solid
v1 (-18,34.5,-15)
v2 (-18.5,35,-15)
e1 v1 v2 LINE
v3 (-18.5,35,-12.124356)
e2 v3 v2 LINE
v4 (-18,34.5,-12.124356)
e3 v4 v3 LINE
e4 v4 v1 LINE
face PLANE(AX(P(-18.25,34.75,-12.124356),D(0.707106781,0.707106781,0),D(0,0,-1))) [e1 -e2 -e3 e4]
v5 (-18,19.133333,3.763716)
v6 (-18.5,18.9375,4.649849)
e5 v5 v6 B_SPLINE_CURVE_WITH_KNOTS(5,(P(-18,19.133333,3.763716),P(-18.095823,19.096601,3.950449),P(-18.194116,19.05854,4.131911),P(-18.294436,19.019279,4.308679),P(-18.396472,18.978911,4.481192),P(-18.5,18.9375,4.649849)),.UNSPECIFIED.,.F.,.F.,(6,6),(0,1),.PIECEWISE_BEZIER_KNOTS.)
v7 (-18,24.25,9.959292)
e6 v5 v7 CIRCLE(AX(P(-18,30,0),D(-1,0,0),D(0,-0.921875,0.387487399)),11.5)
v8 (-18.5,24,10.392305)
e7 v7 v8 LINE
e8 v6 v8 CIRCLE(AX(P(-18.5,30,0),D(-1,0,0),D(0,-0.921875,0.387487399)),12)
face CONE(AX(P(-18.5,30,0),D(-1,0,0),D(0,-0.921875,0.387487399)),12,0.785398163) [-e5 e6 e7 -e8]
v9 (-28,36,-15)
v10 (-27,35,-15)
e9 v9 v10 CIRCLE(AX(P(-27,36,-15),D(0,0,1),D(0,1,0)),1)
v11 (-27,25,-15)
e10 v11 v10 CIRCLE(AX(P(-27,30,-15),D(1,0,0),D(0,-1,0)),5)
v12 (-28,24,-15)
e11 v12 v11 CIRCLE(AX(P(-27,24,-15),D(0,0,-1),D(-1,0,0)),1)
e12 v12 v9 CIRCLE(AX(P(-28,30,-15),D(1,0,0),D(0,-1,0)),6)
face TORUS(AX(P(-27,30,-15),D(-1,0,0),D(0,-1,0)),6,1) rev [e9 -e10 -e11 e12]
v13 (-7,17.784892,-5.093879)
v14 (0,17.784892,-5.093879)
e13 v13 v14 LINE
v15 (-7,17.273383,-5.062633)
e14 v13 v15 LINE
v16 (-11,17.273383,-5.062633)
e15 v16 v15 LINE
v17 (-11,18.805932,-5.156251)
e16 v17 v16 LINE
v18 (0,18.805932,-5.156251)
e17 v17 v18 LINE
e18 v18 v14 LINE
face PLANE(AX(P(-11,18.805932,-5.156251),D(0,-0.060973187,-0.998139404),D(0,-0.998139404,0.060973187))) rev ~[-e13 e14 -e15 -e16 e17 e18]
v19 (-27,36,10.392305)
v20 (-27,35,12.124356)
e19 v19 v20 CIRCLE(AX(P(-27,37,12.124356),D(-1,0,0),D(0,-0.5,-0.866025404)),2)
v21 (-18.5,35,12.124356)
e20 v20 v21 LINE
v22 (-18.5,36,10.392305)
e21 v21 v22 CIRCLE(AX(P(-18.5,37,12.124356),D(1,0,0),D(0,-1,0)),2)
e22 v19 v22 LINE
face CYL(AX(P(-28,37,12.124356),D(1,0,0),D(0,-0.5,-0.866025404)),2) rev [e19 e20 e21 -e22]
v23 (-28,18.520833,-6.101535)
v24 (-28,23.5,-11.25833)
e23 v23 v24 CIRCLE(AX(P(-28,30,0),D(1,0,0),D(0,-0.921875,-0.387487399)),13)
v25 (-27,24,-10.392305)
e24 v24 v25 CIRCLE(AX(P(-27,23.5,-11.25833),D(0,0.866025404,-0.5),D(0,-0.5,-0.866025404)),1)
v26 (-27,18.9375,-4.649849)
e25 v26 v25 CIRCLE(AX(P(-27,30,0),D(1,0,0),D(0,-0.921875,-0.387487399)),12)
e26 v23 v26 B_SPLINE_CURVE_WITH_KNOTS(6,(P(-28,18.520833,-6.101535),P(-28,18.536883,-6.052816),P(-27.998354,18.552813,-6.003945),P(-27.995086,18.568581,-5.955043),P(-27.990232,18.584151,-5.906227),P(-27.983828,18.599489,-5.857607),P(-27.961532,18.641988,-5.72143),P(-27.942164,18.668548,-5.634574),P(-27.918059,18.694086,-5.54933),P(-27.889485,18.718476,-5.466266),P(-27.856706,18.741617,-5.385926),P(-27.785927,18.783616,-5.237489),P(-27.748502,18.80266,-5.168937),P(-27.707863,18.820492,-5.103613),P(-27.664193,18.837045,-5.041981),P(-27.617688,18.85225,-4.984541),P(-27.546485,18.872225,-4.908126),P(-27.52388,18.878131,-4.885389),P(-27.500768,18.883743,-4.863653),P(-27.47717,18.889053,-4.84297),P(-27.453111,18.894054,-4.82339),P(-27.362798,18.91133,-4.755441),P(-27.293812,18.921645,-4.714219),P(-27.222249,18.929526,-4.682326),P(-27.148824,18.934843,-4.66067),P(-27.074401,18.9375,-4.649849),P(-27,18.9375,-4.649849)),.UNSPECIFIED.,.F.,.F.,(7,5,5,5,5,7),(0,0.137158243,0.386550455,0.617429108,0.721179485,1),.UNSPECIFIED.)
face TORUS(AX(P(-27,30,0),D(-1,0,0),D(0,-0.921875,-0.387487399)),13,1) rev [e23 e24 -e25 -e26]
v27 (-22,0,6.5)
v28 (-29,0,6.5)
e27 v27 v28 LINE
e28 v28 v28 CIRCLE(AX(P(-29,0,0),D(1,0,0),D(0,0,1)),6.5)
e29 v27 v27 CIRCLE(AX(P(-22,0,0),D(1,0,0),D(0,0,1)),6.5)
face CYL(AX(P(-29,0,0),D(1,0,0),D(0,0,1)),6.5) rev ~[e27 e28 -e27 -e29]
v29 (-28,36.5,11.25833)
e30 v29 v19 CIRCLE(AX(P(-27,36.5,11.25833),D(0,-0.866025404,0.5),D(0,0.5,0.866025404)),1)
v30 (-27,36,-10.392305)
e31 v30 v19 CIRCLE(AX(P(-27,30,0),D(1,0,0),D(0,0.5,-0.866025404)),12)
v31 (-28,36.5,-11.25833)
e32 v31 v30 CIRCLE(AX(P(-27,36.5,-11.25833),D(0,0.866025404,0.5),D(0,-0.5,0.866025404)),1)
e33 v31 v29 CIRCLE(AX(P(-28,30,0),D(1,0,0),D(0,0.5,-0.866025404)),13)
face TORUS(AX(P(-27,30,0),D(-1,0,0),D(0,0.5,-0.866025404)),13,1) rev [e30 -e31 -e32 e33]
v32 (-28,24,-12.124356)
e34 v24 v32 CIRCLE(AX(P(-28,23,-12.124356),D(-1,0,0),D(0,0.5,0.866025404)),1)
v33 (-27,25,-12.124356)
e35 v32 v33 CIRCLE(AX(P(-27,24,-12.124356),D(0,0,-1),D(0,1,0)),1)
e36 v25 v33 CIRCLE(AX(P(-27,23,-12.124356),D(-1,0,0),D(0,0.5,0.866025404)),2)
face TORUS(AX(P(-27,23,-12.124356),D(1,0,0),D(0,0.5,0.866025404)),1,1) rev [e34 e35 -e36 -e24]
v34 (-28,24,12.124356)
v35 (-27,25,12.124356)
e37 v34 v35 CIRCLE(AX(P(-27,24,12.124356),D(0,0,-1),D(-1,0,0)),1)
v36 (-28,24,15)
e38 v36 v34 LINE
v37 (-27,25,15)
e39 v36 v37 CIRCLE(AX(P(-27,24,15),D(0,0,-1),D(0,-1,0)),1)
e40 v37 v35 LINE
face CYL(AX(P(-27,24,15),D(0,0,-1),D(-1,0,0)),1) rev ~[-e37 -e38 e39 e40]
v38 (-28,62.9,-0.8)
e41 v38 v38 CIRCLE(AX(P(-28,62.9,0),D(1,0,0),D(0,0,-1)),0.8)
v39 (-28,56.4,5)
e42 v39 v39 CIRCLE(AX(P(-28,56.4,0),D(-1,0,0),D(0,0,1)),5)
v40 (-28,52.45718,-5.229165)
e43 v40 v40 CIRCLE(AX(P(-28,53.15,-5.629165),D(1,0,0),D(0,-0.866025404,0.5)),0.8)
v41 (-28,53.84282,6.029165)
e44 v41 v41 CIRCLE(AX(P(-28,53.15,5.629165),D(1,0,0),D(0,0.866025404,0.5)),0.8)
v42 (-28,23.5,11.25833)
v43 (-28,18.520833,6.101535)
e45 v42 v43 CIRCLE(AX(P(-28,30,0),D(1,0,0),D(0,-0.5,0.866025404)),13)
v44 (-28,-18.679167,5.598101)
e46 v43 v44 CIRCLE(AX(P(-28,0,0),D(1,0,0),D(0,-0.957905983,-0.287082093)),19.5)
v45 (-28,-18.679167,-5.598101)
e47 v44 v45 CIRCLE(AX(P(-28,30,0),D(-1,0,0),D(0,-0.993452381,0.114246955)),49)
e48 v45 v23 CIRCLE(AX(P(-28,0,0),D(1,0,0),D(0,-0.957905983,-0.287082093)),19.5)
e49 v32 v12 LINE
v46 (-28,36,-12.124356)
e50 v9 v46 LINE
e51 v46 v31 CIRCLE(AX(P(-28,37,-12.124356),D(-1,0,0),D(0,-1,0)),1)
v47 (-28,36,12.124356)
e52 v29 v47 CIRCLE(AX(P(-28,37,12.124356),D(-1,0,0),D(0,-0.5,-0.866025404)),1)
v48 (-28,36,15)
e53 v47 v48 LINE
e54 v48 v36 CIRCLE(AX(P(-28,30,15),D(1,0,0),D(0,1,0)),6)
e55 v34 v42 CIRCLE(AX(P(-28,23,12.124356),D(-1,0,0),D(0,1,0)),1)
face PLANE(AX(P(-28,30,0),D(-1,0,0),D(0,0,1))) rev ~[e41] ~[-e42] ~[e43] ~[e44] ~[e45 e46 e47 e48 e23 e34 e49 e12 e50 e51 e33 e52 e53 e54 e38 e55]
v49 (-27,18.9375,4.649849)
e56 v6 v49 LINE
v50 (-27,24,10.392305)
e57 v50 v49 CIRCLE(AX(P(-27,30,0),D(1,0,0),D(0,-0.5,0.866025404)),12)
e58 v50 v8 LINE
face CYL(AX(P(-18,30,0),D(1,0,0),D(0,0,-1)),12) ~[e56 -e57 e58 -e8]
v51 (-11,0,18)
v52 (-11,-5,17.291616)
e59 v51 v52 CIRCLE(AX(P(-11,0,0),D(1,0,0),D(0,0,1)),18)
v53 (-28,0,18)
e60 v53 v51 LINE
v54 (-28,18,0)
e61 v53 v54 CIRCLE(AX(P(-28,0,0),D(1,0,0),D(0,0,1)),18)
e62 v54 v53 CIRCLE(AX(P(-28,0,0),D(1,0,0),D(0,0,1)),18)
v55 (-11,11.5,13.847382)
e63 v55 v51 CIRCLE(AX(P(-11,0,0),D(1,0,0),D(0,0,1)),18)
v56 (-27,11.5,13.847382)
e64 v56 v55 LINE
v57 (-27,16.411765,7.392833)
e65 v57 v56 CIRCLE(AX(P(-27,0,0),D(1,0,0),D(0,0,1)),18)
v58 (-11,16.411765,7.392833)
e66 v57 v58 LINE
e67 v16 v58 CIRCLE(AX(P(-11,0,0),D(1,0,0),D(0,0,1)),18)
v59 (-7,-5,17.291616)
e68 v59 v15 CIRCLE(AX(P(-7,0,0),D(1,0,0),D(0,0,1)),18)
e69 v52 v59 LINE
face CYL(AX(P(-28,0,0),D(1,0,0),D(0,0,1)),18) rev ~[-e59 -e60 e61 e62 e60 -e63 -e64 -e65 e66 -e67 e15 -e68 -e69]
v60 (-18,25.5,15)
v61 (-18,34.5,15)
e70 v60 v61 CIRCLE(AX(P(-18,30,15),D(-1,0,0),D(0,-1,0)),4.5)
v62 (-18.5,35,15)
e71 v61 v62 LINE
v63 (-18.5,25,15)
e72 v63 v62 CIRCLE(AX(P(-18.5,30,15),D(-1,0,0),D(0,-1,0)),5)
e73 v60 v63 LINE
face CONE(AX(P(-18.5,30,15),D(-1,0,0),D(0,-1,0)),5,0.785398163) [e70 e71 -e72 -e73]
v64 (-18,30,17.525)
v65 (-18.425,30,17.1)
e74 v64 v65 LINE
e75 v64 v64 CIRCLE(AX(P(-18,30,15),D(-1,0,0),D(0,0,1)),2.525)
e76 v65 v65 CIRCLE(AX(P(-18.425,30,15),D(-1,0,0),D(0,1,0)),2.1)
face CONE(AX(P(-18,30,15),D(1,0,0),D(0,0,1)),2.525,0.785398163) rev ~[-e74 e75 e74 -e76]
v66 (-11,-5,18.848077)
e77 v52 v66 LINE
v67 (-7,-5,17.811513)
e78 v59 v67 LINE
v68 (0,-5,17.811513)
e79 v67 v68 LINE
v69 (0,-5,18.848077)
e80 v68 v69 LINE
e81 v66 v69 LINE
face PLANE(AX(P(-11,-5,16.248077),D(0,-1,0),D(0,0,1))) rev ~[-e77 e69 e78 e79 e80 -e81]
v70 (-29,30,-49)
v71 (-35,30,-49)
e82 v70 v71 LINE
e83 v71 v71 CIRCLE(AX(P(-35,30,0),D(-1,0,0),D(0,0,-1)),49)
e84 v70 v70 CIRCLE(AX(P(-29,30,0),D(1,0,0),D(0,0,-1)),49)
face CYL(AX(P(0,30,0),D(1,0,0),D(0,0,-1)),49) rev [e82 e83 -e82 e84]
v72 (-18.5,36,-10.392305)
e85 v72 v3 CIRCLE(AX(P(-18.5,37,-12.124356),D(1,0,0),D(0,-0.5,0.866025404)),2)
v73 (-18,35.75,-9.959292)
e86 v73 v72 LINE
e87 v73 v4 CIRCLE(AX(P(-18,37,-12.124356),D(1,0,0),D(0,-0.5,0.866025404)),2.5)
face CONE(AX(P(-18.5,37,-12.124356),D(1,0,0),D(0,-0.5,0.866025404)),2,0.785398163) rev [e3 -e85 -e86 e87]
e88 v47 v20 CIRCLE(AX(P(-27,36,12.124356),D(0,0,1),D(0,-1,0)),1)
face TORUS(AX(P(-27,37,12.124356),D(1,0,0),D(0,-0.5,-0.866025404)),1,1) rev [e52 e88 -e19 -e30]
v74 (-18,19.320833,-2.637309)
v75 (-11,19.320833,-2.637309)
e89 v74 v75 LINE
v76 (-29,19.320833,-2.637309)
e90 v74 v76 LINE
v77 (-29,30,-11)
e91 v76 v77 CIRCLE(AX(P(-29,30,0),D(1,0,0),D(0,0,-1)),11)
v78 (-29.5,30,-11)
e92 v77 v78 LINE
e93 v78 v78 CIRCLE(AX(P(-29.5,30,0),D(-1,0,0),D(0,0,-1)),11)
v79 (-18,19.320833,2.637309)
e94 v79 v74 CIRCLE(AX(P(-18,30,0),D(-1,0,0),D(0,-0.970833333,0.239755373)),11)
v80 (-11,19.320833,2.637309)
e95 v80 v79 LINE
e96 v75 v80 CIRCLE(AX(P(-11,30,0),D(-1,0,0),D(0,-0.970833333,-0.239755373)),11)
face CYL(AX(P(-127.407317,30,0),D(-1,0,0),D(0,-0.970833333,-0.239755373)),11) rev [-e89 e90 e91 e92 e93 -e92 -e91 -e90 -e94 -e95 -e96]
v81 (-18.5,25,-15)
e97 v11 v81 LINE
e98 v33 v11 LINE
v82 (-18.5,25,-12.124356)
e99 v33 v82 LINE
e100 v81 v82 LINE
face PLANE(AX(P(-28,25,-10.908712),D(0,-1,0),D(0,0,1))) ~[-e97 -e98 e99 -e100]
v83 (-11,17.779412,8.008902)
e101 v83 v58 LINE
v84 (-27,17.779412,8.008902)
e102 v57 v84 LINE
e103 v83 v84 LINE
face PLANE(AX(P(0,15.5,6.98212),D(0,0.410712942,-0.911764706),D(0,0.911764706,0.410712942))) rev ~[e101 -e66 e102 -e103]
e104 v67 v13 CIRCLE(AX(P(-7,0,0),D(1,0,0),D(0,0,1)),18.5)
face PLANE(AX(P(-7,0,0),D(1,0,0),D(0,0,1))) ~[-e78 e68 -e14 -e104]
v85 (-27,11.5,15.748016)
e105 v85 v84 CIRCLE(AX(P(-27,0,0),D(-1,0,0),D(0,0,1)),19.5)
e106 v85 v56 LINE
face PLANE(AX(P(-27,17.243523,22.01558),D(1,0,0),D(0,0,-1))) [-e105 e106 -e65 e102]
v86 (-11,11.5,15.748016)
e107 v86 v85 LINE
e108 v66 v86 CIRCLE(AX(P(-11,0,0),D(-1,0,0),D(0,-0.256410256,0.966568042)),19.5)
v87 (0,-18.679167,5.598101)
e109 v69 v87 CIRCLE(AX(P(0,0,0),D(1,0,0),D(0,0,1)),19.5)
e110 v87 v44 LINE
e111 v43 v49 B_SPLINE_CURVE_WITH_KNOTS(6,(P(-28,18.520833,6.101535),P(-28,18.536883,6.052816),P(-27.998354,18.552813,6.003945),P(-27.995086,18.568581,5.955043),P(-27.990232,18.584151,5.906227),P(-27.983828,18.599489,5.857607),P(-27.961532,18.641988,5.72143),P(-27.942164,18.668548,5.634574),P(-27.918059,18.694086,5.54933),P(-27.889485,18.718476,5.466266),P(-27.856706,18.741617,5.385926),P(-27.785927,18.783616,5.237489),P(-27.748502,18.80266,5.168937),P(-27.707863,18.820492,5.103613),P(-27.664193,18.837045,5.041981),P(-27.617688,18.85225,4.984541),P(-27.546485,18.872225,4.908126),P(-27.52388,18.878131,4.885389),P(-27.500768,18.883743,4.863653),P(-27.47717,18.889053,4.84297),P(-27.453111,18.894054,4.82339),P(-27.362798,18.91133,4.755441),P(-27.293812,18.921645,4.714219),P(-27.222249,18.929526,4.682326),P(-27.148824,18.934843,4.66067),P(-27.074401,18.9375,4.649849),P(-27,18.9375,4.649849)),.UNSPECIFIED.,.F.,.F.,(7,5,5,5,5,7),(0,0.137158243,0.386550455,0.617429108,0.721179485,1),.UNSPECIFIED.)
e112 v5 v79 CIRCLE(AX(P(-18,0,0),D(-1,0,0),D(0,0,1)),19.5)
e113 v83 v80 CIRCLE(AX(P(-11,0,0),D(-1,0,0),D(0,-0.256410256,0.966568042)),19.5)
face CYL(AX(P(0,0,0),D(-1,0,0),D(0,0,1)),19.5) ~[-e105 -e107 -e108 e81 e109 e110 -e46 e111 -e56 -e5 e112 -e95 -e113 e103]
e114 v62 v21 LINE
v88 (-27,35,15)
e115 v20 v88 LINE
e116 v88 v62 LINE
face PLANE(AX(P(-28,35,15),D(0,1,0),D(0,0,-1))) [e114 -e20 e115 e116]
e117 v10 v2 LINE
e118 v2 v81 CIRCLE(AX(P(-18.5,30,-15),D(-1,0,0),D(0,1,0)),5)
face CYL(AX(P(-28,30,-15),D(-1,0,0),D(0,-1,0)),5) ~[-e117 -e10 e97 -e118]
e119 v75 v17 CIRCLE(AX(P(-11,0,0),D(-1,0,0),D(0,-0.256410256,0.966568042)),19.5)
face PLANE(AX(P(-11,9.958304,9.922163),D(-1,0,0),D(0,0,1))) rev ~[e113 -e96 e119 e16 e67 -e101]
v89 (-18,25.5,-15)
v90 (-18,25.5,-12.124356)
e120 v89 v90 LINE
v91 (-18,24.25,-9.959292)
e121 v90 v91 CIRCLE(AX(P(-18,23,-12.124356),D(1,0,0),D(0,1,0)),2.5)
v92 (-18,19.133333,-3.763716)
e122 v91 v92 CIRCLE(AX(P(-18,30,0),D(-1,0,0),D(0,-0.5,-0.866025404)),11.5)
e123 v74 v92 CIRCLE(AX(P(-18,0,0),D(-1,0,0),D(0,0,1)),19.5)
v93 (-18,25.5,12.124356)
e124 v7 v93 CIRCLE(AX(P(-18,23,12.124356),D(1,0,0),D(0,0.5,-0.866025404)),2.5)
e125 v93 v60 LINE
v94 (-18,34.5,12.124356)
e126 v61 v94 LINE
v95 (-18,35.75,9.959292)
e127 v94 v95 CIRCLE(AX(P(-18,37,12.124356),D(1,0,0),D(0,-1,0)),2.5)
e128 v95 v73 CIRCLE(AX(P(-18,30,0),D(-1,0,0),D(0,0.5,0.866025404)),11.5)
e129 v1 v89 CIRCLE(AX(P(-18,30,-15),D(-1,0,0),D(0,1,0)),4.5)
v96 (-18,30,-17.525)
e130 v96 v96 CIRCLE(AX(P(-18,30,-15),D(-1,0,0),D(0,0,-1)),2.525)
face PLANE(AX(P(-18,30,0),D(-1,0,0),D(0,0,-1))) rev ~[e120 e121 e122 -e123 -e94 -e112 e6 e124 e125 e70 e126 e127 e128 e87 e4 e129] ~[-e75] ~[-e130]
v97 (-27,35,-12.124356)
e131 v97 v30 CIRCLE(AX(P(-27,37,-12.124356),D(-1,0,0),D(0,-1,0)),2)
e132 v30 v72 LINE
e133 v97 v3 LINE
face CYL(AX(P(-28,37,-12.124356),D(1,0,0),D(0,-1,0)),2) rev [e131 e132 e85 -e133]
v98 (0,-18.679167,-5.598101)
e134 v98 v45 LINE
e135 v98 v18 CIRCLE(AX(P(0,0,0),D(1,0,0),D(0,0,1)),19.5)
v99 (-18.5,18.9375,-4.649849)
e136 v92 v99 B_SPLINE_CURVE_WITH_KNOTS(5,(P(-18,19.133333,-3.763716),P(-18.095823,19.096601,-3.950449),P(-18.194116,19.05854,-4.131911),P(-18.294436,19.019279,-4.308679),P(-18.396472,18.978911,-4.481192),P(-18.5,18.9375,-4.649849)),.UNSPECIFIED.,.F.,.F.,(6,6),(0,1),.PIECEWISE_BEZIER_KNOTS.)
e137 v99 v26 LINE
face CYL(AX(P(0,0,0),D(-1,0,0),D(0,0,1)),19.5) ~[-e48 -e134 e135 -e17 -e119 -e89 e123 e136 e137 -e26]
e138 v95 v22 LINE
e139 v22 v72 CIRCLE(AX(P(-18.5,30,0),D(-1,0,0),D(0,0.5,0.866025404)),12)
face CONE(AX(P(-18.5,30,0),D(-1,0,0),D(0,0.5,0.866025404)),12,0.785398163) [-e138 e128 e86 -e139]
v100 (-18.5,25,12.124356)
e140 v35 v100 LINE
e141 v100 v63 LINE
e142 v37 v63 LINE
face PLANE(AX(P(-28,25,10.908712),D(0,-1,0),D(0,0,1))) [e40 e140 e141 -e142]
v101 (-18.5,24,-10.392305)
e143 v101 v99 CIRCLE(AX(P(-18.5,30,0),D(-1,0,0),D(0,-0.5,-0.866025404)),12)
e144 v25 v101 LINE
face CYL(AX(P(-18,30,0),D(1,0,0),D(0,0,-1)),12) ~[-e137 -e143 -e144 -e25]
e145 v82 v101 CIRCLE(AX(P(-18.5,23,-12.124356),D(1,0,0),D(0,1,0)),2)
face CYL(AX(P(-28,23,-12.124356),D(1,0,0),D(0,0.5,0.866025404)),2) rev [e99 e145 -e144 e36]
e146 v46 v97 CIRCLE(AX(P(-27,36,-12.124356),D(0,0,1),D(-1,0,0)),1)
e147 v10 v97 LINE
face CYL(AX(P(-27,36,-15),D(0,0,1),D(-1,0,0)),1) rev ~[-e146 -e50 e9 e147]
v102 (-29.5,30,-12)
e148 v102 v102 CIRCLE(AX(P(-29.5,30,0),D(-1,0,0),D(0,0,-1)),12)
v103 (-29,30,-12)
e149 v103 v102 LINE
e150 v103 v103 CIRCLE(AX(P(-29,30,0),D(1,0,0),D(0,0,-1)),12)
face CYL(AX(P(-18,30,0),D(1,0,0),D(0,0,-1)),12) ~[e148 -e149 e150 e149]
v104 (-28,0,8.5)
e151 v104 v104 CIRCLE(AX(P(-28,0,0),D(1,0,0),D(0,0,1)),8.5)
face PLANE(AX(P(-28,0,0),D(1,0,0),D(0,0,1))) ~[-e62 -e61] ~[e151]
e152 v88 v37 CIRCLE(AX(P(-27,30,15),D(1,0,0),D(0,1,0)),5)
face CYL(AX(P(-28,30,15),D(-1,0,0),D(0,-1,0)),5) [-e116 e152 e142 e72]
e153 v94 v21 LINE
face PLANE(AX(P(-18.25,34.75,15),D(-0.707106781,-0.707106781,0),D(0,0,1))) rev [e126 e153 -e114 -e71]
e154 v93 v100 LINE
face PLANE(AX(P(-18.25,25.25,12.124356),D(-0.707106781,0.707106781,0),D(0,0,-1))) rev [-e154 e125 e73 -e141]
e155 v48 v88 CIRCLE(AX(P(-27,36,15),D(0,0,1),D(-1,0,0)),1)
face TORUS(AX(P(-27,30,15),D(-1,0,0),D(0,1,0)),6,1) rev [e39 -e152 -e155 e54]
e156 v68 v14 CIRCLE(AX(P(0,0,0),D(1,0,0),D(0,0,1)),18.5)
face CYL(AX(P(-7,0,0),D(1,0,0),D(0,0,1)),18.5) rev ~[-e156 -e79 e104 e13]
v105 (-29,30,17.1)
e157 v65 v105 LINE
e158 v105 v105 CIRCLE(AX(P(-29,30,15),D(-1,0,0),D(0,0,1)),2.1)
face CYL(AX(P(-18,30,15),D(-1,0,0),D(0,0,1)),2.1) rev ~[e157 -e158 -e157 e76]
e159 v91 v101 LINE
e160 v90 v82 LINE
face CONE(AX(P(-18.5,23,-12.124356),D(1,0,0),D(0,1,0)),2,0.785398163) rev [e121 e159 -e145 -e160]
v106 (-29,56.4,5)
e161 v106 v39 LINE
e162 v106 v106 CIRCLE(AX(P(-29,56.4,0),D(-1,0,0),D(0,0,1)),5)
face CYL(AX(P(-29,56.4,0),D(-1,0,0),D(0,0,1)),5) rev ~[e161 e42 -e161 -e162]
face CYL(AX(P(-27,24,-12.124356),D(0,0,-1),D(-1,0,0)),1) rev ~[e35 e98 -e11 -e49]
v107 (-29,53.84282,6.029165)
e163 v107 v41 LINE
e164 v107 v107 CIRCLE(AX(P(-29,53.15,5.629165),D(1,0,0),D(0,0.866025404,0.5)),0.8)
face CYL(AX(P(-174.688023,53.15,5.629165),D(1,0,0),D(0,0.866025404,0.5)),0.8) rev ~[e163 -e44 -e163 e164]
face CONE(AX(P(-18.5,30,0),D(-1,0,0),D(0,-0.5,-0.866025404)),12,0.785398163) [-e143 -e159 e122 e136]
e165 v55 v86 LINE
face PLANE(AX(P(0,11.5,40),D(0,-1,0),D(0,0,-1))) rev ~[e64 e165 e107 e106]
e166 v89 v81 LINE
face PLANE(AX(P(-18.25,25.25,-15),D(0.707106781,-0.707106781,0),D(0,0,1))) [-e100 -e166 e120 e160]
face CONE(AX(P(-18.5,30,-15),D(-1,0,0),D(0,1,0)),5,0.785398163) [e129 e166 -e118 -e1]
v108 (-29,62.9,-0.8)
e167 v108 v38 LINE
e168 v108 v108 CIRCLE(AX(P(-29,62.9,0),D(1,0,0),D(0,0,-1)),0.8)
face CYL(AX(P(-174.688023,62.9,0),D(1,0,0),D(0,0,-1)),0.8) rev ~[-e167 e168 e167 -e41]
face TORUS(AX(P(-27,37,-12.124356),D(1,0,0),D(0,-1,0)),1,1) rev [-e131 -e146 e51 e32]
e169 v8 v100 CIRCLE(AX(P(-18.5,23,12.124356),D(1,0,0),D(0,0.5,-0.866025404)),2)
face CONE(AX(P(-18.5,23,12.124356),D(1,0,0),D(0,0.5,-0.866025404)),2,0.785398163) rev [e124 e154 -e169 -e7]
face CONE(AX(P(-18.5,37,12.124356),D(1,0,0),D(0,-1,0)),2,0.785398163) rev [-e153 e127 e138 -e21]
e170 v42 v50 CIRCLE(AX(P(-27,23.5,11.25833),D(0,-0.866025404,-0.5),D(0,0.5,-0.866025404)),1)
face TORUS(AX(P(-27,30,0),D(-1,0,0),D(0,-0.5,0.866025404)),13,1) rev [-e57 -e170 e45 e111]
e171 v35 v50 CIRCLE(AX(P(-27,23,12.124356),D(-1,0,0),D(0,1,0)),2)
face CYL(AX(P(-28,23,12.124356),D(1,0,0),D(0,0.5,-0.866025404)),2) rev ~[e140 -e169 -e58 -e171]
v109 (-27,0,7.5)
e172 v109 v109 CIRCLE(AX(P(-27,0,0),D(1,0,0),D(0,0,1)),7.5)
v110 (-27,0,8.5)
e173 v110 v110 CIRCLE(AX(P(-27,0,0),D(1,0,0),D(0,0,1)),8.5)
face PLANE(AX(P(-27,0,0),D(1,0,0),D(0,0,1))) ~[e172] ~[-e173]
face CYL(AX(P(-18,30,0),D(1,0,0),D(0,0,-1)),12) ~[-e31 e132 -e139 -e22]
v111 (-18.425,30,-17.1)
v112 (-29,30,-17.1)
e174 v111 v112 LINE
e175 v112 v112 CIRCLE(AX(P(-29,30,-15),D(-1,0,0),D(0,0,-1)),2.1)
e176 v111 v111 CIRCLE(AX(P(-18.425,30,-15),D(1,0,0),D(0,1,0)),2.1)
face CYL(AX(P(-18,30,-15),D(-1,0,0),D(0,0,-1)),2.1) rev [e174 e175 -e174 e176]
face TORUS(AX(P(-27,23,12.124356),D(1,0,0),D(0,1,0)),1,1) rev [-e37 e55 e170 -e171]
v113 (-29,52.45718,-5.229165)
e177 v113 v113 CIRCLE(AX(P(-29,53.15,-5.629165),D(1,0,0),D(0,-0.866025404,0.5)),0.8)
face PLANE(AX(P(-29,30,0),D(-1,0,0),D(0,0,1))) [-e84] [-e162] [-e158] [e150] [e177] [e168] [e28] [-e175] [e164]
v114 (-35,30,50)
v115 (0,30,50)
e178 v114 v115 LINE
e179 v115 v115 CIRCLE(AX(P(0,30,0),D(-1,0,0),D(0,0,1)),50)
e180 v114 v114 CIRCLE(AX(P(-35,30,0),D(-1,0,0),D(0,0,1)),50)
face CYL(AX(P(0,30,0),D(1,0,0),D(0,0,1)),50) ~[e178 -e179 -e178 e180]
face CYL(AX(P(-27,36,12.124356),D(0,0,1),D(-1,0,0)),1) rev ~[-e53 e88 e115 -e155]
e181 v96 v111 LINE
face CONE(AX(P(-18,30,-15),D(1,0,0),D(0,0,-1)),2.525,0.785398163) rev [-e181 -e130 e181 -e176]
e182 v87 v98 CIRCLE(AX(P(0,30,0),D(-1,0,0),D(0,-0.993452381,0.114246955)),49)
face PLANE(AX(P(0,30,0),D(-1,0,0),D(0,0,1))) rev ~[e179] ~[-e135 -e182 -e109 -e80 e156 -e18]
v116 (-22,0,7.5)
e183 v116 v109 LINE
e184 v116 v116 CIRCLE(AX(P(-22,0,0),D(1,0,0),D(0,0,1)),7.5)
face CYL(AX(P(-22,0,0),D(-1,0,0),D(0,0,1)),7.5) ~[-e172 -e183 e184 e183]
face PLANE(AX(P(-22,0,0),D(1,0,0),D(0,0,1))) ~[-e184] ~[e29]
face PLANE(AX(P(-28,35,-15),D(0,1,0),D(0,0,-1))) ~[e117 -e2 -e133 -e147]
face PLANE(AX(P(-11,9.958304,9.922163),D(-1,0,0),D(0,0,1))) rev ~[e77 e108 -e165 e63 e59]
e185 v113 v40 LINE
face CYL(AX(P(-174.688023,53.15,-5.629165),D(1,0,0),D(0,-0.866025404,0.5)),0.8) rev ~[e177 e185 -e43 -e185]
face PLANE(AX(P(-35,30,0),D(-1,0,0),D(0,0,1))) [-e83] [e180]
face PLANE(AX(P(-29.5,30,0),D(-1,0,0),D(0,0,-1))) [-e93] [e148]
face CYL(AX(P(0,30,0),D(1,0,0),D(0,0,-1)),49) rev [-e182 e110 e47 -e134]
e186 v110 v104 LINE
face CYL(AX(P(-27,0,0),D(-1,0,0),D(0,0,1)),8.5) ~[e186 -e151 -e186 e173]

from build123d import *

# Parameters (mm, degrees)
CUT_EXTRUDE_START        = -11
CUT_EXTRUDE_1_DEPTH      = 11
CUT_EXTRUDE_2_DEPTH      = 27
EXTRUDE_START            = -1
SKETCH_4_R               = 50
SKETCH_4_R_2             = 6.5
EXTRUDE_1_DEPTH          = 1
EXTRUDE_2_DEPTH          = 6
EXTRUDE_2_DEPTH_BACK     = 29
SKETCH_5_R               = 50
SKETCH_5_R_2             = 49
EXTRUDE_3_DEPTH          = 1.5
EXTRUDE_3_DEPTH_BACK     = 10
SKETCH_15_R              = 12
SKETCH_15_R_2            = 11
EXTRUDE_4_DEPTH          = 10
M5X0_81_D                = 4.2
M5X0_81_CSINK_D          = 5.05
M5X0_81_CSINK_ANGLE      = 90
FILLET_1_R               = 2
FILLET_1_OF_MIRROR_1_R   = 2
FILLET_2_R               = 1
CHAMFER_1_SIZE           = 0.5
CUT_EXTRUDE_4_DEPTH      = 99.40731683
CUT_EXTRUDE_4_DEPTH_BACK = 99.40731683
SKETCH_16_R              = 11
CUT_EXTRUDE_3_REACH      = 100.697
SKETCH_12_R              = 5
M2X0_41_D                = 1.6
PATTERN_CIRCULAR_1_COUNT = 3


with BuildPart() as part:
    # Эскиз1 → Повернуть1 (revolve)
    with BuildSketch(Plane.XY, mode=Mode.PRIVATE) as revolve_1_sk:
        Polygon((-27, 7.5), (-27, 8.5), (-28, 8.5), (-28, 18), (-7, 18), (-7, 18.5), (0, 18.5), (0, 19.5), (-29, 19.5), (-29, 6.5), (-22, 6.5), (-22, 7.5), align=None)
    revolve(revolve_1_sk.sketch.rotate(Axis((0, 0, 0), (1, 0, 0)), 90), axis=Axis((0, 0, 0), (1, 0, 0)))

    # Эскиз2 → Вырез-Вытянуть1 (cut)
    with BuildSketch(Plane(origin=(0, 0, 0), x_dir=(0, 0, -1), z_dir=(1, 0, 0)).offset(CUT_EXTRUDE_START)):
        with BuildLine():
            Line((5.156251293, 18.805931846), (5, 16.248076809))
            ThreePointArc((5, 16.248076809), (-12.02081528, 12.02081528), (-16.248076809, -5))
            Line((-16.248076809, -5), (-18.848076825, -5))
            ThreePointArc((-18.848076825, -5), (-13.731246096, 13.845680938), (5.156251293, 18.805931846))
        make_face()
    extrude(amount=CUT_EXTRUDE_1_DEPTH, mode=Mode.SUBTRACT)

    # Эскиз3 → Вырез-Вытянуть2 (cut)
    with BuildSketch(Plane(origin=(0, 0, 0), x_dir=(0, 0, -1), z_dir=(1, 0, 0))):
        with BuildLine():
            Line((-40, 11.5), (-12.519984026, 11.5))
            ThreePointArc((-12.519984026, 11.5), (-9.954045186, 13.781037132), (-6.982120022, 15.5))
            Line((-6.982120022, 15.5), (-13.240816858, 29.394032278))
            Line((-13.240816858, 29.394032278), (-40, 11.5))
        make_face()
    extrude(amount=-CUT_EXTRUDE_2_DEPTH, mode=Mode.SUBTRACT)

    # Эскиз4 → Бобышка-Вытянуть1 (add)
    with BuildSketch(Plane.ZY.offset(29).offset(EXTRUDE_START)):
        with Locations((0, 30)):
            Circle(SKETCH_4_R)
        Circle(SKETCH_4_R_2, mode=Mode.SUBTRACT)
    extrude(amount=EXTRUDE_1_DEPTH)

    # Эскиз5 → Бобышка-Вытянуть2 (add, two sides: drawn at the far end of the back side and taken through both)
    with BuildSketch(Plane.ZY.offset(29).offset(-EXTRUDE_2_DEPTH_BACK)):
        with Locations((0, 30)):
            Circle(SKETCH_5_R)
        with Locations(Location((0, 30, 0), (0, 0, 180))):
            Circle(SKETCH_5_R_2, mode=Mode.SUBTRACT)
    extrude(amount=EXTRUDE_2_DEPTH + EXTRUDE_2_DEPTH_BACK)

    # Эскиз15 → Бобышка-Вытянуть3 (add, two sides: drawn at the far end of the back side and taken through both)
    with BuildSketch(Plane.ZY.offset(28).offset(-EXTRUDE_3_DEPTH_BACK)):
        with Locations(Location((0, 30, 0), (0, 0, 180))):
            Circle(SKETCH_15_R)
        with Locations(Location((0, 30, 0), (0, 0, 180))):
            Circle(SKETCH_15_R_2, mode=Mode.SUBTRACT)
    extrude(amount=EXTRUDE_3_DEPTH + EXTRUDE_3_DEPTH_BACK)

    # Эскиз17 → Бобышка-Вытянуть4 (add)
    with BuildSketch(Plane(origin=(-28, 0, 0), x_dir=(0, 0, -1), z_dir=(1, 0, 0))):
        with BuildLine():
            Line((-15, 35), (-10.908712115, 35))
            ThreePointArc((-10.908712115, 35), (-12, 30), (-10.908712115, 25))
            Line((-10.908712115, 25), (-15, 25))
            ThreePointArc((-15, 25), (-20, 30), (-15, 35))
        make_face()
    extrude_4 = extrude(amount=EXTRUDE_4_DEPTH)

    # Отверстие обработанное метчиком M5x0.81 (through all)
    with Locations(Plane(origin=(-18, 0, 0), x_dir=(0, 0, -1), z_dir=(1, 0, 0))):
        with Locations((-15, 30)):
            m5x0_81 = CounterSinkHole(M5X0_81_D / 2, M5X0_81_CSINK_D / 2, counter_sink_angle=M5X0_81_CSINK_ANGLE)

    # Скругление1
    fillet_1_edges = [part.edges().sort_by_distance(p)[0] for p in [
        (-23, 25, 10.908712115),
        (-23, 35, 10.908712115),
    ]]
    fillet(fillet_1_edges, radius=FILLET_1_R)

    # Зеркальное отражение1: Бобышка-Вытянуть4, Отверстие обработанное метчиком M5x0.81 across plane
    add(extrude_4.mirror(Plane.XY))
    add(m5x0_81.mirror(Plane.XY), mode=Mode.SUBTRACT)

    # Скругление1 of Зеркальное отражение1
    fillet_1_of_mirror_1_edges = [part.edges().sort_by_distance(p)[0] for p in [
        (-23, 25, -10.908712115),
        (-23, 35, -10.908712115),
    ]]
    fillet(fillet_1_of_mirror_1_edges, radius=FILLET_1_OF_MIRROR_1_R)

    # Скругление2
    fillet_2_edges = [part.edges().sort_by_distance(p)[0] for p in [
        (-28, 20.998545842, -7.935604769),
        (-28, 30, 20),
        (-28, 25, 13.562177826),
        (-28, 20.998545842, 7.935604769),
        (-28, 35, 13.562177826),
        (-28, 35.267949192, 11.124355653),
        (-28, 24.732050808, 11.124355653),
        (-28, 30, -20),
        (-28, 25, -13.562177826),
        (-28, 42, 0),
        (-28, 35, -13.562177826),
        (-28, 35.267949192, -11.124355653),
        (-28, 24.732050808, -11.124355653),
    ]]
    fillet(fillet_2_edges, radius=FILLET_2_R)

    # Фаска1
    chamfer_1_edges = [part.edges().sort_by_distance(p)[0] for p in [
        (-18, 20.998545842, 7.935604769),
        (-18, 30, 20),
        (-18, 25, 13.562177826),
        (-18, 35, 13.562177826),
        (-18, 42, 0),
        (-18, 24.732050808, 11.124355653),
        (-18, 35.267949192, 11.124355653),
        (-18, 30, -20),
        (-18, 25, -13.562177826),
        (-18, 20.998545842, -7.935604769),
        (-18, 35, -13.562177826),
        (-18, 24.732050808, -11.124355653),
        (-18, 35.267949192, -11.124355653),
    ]]
    chamfer(chamfer_1_edges, length=CHAMFER_1_SIZE)

    # Эскиз16 → Вырез-Вытянуть4 (cut, two sides: drawn at the far end of the back side and taken through both)
    with BuildSketch(Plane(origin=(-28, 0, 0), x_dir=(0, 0, -1), z_dir=(1, 0, 0)).offset(-CUT_EXTRUDE_4_DEPTH_BACK)):
        with Locations(Location((0, 30, 0), (0, 0, 283.872102735))):
            Circle(SKETCH_16_R)
    extrude(amount=CUT_EXTRUDE_4_DEPTH + CUT_EXTRUDE_4_DEPTH_BACK, mode=Mode.SUBTRACT)

    # Эскиз12 → Вырез-Вытянуть3 (cut, up to next)
    with BuildSketch(Plane.ZY.offset(29), mode=Mode.PRIVATE) as cut_extrude_3_sk1:
        with Locations((0, 56.4)):
            Circle(SKETCH_12_R)
    cut_extrude_3_tool1 = extrude(cut_extrude_3_sk1.sketch, amount=-CUT_EXTRUDE_3_REACH, mode=Mode.PRIVATE) & part.part
    add(cut_extrude_3_tool1.solids().sort_by_distance((-29, 56.4, 0))[0], mode=Mode.SUBTRACT)

    # Сверление под метчик M2x0.41 (through all)
    with Locations(Plane.ZY.offset(29)):
        with Locations((0, 62.9)):
            m2x0_41 = Hole(M2X0_41_D / 2)

    # Круговой массив1: Сверление под метчик M2x0.41 ×3 about axis
    pattern_circular_1_axis = Axis((0, 56.4, 0), (1, 0, 0))
    for i in range(1, PATTERN_CIRCULAR_1_COUNT):
        add(m2x0_41.rotate(pattern_circular_1_axis, i * 360 / PATTERN_CIRCULAR_1_COUNT), mode=Mode.SUBTRACT)


solid = part.part
